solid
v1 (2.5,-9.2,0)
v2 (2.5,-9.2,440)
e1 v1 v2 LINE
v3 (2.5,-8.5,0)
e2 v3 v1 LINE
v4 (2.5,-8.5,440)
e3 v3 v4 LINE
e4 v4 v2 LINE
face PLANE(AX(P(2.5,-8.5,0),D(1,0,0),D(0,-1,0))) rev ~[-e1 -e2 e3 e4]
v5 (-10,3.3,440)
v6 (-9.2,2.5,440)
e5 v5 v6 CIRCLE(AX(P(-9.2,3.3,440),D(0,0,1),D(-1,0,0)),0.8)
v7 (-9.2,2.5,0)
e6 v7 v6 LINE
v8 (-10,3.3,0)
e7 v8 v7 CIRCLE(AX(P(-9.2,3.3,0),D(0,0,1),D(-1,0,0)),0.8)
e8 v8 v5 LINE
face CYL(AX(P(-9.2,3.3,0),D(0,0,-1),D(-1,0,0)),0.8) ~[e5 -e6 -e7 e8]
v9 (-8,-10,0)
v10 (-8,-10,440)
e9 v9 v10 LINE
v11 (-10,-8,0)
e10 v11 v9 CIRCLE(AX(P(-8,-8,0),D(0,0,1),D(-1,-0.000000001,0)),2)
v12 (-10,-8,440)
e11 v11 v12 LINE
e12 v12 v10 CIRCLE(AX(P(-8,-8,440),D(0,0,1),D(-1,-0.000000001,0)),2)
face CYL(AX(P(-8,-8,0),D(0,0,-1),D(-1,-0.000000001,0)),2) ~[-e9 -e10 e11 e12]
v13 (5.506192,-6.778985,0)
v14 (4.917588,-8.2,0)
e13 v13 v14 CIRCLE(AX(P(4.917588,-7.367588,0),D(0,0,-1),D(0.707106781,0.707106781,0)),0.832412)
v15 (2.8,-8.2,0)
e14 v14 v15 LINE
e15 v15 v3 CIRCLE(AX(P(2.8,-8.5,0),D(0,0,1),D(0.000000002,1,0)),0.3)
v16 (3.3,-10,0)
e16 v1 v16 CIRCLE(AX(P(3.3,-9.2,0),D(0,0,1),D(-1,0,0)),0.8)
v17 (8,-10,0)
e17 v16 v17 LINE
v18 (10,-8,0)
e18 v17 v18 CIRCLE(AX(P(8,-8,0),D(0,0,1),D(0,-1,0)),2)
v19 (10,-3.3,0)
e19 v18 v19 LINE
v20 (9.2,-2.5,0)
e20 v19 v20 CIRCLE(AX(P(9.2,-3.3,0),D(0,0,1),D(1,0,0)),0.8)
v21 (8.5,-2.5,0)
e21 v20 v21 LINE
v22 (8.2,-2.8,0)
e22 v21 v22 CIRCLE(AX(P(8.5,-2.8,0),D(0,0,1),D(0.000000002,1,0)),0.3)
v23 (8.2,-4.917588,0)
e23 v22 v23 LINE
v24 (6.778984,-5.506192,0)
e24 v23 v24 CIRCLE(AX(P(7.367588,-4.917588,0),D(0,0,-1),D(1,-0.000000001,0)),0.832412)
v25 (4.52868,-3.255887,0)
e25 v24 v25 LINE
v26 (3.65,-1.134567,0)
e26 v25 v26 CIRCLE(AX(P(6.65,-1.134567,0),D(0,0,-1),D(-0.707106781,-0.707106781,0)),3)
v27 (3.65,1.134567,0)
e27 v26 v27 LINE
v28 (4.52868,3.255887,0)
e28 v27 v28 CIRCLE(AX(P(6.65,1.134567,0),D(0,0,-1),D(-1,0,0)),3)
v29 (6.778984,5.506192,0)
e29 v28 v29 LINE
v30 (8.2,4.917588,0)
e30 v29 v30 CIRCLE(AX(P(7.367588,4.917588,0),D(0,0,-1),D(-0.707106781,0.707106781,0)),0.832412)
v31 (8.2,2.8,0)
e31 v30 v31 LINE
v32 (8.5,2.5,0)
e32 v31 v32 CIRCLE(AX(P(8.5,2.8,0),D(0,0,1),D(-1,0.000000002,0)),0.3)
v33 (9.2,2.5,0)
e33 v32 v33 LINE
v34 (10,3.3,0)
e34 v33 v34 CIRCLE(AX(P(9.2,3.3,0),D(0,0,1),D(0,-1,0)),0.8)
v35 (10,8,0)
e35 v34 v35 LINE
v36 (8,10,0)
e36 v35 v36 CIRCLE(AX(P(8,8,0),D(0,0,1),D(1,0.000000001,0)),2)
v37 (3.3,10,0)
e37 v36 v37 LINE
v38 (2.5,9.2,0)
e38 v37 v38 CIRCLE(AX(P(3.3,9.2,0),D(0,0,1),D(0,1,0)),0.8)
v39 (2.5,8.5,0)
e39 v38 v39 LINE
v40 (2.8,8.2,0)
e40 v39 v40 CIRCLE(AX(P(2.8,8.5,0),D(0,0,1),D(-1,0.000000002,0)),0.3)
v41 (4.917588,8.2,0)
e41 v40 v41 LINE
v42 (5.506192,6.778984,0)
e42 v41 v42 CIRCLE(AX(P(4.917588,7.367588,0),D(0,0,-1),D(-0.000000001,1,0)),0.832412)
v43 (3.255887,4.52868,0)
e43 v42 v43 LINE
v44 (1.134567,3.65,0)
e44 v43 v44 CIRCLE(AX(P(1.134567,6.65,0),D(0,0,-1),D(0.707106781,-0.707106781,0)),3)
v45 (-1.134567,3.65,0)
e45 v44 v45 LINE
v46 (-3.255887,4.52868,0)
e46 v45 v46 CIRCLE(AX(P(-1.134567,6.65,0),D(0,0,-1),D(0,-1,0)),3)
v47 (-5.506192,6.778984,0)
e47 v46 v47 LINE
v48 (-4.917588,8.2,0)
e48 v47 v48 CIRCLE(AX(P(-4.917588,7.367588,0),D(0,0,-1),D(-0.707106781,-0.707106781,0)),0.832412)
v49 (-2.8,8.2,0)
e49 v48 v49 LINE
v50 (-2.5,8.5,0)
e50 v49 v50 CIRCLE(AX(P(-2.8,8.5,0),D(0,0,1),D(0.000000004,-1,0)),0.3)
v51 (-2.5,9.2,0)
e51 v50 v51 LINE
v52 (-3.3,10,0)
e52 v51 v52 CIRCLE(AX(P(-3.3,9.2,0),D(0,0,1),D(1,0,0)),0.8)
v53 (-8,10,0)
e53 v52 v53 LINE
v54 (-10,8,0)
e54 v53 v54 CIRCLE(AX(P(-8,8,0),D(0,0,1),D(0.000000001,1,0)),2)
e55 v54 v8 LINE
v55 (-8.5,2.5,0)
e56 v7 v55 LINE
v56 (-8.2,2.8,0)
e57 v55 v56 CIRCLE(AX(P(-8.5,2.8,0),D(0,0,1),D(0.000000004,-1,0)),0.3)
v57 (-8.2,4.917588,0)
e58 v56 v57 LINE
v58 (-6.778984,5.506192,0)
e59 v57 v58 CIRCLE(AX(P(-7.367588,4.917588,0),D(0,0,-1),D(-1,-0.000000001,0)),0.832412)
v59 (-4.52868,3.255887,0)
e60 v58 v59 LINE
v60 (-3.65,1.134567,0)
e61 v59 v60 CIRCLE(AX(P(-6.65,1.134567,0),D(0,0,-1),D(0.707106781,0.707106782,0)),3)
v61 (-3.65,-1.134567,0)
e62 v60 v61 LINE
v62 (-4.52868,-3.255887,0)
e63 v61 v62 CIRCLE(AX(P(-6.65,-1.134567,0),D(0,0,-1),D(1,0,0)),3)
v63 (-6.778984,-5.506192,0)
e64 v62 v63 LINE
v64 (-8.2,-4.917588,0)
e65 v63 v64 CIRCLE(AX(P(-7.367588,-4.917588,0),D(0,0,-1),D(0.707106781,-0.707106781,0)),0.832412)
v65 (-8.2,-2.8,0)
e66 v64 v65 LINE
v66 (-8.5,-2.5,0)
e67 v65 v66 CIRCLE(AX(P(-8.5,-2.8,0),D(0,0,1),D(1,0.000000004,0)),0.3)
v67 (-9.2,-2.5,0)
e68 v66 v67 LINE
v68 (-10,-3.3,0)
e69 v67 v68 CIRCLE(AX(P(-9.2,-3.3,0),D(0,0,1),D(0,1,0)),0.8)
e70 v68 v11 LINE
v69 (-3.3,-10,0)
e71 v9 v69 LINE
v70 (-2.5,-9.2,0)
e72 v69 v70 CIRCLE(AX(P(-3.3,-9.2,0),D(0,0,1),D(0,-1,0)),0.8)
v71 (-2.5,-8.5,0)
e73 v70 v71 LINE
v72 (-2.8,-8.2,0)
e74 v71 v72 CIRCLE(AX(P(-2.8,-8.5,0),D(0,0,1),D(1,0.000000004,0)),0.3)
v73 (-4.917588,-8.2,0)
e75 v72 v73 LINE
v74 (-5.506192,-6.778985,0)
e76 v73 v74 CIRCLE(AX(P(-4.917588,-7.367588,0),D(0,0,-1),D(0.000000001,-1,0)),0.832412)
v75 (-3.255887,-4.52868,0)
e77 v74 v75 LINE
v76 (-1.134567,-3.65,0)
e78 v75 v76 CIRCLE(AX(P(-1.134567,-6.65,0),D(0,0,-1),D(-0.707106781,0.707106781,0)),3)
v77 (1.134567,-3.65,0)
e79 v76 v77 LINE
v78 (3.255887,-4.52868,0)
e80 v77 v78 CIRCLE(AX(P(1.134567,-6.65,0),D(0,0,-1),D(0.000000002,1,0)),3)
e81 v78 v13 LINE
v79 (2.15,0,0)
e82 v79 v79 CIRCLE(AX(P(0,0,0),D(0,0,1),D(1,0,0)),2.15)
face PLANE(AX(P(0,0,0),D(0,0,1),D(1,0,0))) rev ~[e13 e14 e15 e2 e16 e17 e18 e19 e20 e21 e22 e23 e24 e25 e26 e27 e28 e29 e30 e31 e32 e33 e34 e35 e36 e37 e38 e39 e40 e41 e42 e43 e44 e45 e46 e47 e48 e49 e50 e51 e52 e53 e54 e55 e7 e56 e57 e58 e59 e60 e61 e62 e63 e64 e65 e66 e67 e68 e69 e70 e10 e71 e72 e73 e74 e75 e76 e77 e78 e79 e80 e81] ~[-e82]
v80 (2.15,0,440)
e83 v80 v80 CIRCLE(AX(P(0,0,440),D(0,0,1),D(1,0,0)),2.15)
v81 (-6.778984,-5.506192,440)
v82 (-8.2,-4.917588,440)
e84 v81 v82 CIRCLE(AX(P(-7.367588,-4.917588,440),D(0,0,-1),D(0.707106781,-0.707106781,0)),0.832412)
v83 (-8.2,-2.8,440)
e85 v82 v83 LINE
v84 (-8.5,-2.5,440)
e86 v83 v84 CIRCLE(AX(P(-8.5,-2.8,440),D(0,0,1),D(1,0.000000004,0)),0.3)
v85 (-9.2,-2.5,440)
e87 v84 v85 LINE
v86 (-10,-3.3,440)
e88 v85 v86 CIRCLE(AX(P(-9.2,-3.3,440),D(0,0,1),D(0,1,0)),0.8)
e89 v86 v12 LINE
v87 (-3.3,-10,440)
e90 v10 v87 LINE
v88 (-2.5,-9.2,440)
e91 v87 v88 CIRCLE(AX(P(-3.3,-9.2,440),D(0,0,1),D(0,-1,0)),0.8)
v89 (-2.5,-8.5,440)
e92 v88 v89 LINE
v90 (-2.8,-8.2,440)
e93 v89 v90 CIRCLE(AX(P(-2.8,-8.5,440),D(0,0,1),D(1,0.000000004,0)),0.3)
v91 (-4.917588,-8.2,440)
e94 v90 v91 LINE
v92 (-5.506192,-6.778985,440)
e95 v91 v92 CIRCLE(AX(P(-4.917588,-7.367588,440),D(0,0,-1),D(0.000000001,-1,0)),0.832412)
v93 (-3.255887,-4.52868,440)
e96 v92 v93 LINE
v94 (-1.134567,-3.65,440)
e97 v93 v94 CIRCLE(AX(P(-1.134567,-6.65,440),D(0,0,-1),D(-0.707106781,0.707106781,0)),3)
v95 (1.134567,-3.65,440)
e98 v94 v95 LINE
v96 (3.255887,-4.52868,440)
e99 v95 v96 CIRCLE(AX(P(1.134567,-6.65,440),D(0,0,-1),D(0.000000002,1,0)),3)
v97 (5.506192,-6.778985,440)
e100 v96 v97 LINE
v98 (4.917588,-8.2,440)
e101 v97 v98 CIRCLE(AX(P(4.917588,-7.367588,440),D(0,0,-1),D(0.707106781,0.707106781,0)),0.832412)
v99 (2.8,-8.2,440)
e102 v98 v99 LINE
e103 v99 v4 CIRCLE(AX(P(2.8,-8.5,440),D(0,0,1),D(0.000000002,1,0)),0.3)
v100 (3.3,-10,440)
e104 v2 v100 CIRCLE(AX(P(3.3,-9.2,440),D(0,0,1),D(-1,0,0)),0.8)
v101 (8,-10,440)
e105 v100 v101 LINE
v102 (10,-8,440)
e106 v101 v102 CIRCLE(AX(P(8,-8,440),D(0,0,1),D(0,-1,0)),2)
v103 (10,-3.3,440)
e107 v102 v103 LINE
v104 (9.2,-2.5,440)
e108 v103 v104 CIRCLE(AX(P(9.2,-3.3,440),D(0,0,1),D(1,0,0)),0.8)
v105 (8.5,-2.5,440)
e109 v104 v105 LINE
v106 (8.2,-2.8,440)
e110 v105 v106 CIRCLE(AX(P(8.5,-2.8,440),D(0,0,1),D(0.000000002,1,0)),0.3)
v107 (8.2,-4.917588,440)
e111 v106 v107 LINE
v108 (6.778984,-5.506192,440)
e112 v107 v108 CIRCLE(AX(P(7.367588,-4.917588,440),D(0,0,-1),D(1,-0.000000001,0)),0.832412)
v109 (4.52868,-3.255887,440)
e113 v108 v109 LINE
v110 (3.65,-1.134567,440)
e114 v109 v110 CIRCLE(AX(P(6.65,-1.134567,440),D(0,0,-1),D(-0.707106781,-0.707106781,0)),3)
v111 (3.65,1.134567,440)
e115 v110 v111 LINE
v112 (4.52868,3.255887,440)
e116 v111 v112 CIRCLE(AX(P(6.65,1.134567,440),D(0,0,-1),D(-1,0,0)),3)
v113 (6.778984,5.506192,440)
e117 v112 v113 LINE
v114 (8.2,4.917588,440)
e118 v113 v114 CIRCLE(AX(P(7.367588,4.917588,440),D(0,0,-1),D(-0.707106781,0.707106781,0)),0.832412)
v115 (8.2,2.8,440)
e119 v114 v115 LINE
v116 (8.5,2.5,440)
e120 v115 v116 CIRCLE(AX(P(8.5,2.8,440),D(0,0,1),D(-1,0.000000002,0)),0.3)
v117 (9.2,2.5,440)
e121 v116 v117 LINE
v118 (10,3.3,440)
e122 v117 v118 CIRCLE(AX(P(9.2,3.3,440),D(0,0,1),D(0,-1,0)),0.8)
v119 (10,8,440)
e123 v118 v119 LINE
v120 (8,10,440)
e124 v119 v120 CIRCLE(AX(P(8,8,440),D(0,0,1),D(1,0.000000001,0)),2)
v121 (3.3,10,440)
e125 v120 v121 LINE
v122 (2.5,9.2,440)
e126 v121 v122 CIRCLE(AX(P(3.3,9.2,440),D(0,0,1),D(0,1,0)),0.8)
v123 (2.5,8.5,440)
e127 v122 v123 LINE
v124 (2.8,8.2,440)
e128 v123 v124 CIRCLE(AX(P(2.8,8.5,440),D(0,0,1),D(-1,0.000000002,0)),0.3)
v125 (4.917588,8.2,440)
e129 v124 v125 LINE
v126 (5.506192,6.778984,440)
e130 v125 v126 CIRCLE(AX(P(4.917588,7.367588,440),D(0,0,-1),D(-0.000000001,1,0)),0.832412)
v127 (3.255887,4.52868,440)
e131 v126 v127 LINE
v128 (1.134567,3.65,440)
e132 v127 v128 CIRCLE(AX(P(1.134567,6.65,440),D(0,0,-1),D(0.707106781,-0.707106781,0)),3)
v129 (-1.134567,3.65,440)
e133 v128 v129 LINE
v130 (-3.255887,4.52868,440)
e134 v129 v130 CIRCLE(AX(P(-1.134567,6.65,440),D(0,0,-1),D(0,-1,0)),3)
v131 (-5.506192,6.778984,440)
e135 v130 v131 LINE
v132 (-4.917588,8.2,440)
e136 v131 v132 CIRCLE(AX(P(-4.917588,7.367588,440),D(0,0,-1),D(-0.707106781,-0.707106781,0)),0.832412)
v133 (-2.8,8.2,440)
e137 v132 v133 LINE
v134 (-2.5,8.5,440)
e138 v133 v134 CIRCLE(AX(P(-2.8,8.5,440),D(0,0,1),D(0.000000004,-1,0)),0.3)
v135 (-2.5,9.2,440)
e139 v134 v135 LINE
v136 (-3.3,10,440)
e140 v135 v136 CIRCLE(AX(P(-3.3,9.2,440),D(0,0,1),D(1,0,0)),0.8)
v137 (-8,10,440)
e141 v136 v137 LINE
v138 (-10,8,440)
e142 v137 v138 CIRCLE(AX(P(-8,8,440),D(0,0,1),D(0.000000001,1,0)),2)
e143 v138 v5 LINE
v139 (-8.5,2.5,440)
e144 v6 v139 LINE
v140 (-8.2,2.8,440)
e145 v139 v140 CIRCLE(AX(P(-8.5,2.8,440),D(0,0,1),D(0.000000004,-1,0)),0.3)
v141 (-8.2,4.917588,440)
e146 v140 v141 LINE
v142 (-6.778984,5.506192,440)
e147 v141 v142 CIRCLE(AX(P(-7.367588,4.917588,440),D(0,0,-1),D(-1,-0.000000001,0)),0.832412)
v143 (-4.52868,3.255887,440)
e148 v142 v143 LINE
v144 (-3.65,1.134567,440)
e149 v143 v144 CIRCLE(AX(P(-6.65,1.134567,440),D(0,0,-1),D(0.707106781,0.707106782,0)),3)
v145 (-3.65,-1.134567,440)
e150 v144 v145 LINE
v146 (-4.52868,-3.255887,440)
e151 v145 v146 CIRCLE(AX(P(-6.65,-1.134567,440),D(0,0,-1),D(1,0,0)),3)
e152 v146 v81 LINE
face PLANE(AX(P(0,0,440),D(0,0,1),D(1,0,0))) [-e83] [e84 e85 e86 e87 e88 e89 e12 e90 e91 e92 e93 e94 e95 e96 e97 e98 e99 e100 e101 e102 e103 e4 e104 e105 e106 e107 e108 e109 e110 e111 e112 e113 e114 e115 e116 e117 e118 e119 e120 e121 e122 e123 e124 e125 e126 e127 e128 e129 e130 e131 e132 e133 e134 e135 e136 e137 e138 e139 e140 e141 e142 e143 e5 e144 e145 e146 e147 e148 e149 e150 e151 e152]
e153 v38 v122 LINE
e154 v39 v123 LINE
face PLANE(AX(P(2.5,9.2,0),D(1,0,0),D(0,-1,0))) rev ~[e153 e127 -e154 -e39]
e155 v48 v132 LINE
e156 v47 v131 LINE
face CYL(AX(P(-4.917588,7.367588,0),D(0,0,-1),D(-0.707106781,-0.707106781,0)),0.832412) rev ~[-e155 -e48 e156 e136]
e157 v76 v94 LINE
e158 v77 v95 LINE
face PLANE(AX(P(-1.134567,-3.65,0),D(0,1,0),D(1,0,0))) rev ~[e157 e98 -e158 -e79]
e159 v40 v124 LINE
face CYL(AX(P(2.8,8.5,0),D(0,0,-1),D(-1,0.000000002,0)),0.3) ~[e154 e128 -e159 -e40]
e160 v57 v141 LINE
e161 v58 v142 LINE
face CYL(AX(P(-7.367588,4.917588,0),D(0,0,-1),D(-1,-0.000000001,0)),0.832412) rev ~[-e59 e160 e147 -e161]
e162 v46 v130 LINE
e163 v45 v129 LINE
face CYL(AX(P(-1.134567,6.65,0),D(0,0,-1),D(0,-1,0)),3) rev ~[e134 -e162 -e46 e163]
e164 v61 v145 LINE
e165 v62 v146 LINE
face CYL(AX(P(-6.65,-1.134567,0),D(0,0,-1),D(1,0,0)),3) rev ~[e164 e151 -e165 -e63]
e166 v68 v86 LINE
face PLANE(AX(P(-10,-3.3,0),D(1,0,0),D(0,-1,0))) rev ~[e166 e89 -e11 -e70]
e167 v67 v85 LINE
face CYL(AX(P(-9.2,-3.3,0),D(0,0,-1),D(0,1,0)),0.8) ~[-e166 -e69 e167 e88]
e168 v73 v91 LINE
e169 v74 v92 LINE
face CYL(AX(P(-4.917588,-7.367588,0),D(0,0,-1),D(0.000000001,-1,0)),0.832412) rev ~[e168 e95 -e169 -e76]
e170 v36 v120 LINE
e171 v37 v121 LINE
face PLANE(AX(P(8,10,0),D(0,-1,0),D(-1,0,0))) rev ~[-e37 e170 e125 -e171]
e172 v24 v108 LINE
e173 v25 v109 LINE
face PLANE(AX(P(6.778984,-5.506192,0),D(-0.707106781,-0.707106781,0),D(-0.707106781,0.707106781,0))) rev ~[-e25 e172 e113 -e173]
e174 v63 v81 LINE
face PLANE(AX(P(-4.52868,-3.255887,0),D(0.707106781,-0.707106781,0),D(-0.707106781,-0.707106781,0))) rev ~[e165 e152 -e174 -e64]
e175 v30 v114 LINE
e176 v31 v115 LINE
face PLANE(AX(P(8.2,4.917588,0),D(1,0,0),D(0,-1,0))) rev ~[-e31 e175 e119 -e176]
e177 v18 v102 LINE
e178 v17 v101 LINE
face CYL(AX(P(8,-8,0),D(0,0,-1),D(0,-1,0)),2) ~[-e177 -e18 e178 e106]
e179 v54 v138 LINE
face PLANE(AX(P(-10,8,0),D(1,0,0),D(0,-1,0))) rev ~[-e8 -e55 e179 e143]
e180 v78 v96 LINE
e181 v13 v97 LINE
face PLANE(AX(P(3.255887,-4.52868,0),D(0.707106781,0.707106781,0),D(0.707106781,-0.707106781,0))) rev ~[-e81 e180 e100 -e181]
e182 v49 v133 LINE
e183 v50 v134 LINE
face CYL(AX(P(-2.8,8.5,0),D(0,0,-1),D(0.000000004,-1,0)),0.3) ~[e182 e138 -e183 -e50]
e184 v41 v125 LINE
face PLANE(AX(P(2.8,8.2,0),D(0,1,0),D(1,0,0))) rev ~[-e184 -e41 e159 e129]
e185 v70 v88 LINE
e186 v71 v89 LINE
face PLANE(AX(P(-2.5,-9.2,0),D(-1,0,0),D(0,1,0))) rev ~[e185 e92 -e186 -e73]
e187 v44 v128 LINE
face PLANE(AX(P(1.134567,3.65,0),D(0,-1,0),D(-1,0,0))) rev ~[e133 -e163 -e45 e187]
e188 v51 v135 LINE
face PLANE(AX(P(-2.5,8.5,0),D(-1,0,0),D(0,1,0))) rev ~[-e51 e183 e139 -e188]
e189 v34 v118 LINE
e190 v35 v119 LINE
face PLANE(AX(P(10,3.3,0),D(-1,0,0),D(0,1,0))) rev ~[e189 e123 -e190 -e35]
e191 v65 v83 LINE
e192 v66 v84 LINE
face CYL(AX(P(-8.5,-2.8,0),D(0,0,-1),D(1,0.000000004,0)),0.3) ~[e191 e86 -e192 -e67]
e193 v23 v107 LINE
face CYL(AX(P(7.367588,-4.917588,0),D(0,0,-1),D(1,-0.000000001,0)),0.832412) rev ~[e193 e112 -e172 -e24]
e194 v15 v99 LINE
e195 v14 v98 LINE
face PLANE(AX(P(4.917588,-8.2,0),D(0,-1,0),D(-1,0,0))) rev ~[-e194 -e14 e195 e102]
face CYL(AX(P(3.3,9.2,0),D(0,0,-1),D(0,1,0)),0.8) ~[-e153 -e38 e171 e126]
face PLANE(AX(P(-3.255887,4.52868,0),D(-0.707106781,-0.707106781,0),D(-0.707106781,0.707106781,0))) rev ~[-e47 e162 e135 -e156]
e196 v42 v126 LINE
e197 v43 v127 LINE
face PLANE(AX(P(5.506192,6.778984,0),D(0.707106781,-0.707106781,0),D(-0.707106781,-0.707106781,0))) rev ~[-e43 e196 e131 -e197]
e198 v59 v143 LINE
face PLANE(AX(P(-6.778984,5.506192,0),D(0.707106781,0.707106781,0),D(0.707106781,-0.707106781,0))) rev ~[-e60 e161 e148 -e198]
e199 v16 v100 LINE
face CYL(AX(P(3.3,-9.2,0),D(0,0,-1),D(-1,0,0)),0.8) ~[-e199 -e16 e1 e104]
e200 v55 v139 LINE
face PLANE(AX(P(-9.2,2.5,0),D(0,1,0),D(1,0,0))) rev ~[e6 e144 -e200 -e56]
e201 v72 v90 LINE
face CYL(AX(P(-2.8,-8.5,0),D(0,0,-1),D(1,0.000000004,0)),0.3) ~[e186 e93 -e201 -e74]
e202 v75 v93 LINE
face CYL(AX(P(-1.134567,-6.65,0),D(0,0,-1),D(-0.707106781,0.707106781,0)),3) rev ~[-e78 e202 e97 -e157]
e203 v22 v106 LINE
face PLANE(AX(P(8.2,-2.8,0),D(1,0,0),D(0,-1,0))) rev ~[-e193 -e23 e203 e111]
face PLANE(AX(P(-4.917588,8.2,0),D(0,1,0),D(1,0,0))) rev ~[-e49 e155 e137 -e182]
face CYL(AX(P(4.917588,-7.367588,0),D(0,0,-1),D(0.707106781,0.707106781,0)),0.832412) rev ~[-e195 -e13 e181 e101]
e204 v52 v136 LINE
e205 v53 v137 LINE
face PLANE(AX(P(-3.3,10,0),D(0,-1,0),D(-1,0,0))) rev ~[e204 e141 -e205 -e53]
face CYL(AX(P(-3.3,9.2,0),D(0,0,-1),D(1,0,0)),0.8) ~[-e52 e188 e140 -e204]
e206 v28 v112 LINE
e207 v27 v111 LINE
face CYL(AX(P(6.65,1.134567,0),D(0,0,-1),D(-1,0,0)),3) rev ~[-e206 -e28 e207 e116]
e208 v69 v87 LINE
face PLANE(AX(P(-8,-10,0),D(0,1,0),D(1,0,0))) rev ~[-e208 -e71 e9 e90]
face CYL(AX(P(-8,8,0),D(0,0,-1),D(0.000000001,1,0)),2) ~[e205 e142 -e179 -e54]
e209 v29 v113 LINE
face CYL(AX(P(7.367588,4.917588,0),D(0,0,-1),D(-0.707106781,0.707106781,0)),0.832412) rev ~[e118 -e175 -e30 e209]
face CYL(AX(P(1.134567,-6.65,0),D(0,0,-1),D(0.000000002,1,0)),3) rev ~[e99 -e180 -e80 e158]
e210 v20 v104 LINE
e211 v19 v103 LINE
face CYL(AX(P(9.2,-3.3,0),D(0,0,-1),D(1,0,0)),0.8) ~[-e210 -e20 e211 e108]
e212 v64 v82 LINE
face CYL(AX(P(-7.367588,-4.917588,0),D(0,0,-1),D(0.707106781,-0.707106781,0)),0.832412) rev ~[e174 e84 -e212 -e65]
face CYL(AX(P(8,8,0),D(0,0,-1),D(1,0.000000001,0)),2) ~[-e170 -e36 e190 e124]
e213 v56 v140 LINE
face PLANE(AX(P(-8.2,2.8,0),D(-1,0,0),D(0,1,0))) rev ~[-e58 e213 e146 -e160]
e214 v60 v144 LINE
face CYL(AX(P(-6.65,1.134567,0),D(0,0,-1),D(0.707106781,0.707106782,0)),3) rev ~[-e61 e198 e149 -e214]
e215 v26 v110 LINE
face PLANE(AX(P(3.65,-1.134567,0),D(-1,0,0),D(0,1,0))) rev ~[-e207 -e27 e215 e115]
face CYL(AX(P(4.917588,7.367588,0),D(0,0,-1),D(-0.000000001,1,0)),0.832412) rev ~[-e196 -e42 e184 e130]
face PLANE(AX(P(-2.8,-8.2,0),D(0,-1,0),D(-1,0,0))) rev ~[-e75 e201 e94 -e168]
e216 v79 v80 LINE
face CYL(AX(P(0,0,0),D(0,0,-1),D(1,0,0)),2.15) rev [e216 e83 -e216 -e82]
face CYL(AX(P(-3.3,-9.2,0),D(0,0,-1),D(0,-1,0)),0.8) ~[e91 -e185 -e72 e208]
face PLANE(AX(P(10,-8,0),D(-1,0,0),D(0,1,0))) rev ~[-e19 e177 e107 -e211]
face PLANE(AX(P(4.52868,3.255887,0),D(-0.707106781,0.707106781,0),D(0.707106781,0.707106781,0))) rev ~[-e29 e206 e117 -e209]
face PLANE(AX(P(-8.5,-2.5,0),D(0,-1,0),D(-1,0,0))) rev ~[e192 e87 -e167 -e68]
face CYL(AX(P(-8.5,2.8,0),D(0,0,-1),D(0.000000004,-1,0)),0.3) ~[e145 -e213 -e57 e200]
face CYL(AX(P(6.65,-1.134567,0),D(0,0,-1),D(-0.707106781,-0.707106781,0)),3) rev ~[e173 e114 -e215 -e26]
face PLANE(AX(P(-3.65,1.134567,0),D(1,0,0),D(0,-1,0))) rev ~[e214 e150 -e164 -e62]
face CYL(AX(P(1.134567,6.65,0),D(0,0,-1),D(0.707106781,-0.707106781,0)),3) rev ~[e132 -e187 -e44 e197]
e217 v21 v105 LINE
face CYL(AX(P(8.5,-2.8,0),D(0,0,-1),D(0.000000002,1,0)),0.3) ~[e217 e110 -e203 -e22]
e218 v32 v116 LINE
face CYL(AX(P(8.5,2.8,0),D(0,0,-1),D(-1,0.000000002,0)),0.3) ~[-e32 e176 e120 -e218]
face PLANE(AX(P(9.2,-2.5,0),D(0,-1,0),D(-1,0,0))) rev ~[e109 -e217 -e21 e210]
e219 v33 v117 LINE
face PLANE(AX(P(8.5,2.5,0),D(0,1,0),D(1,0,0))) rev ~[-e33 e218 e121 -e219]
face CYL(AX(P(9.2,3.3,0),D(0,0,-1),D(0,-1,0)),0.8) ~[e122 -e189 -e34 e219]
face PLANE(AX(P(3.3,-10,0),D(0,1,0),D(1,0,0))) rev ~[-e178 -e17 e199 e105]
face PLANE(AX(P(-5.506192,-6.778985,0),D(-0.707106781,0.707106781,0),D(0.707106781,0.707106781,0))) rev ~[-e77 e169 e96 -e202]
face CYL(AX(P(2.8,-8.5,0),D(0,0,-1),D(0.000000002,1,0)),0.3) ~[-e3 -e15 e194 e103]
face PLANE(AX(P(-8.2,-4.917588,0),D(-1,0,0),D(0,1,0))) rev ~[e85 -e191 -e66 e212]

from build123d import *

# Parameters (mm, degrees)
BOSS_EXTRU_1_DEPTH = 440


with BuildPart() as part:
    # Esquisse1 → Boss.-Extru.1 (new body)
    with BuildSketch(Plane.XY):
        with BuildLine():
            Line((-3.255887446, 4.528679645), (-5.506192286, 6.778984485))
            ThreePointArc((-5.506192286, 6.778984485), (-5.686636441, 7.686138511), (-4.917588391, 8.199999989))
            Line((-4.917588391, 8.199999989), (-2.799999991, 8.199999989))
            ThreePointArc((-2.799999991, 8.199999989), (-2.587867957, 8.287867955), (-2.499999991, 8.499999989))
            Line((-2.499999991, 8.499999989), (-2.499999991, 9.199999989))
            ThreePointArc((-2.499999991, 9.199999989), (-2.734314566, 9.765685414), (-3.299999991, 9.999999989))
            Line((-3.299999991, 9.999999989), (-7.999999991, 9.999999989))
            ThreePointArc((-7.999999991, 9.999999989), (-9.414213554, 9.414213552), (-9.999999991, 7.999999989))
            Line((-9.999999991, 7.999999989), (-9.999999991, 3.299999989))
            ThreePointArc((-9.999999991, 3.299999989), (-9.765685416, 2.734314564), (-9.199999991, 2.499999989))
            Line((-9.199999991, 2.499999989), (-8.499999991, 2.499999989))
            ThreePointArc((-8.499999991, 2.499999989), (-8.287867957, 2.587867955), (-8.199999991, 2.799999989))
            Line((-8.199999991, 2.799999989), (-8.199999991, 4.917588389))
            ThreePointArc((-8.199999991, 4.917588389), (-7.686138517, 5.686636433), (-6.778984497, 5.506192279))
            Line((-6.778984497, 5.506192279), (-4.528679657, 3.255887439))
            ThreePointArc((-4.528679657, 3.255887439), (-3.878361403, 2.282617393), (-3.650000001, 1.134567096))
            Line((-3.650000001, 1.134567096), (-3.650000001, -1.134567114))
            ThreePointArc((-3.650000001, -1.134567114), (-3.878361403, -2.282617409), (-4.528679656, -3.255887454))
            Line((-4.528679656, -3.255887454), (-6.778984496, -5.506192294))
            ThreePointArc((-6.778984496, -5.506192294), (-7.686138522, -5.686636449), (-8.2, -4.9175884))
            Line((-8.2, -4.9175884), (-8.2, -2.8))
            ThreePointArc((-8.2, -2.8), (-8.287867966, -2.587867966), (-8.5, -2.5))
            Line((-8.5, -2.5), (-9.2, -2.5))
            ThreePointArc((-9.2, -2.5), (-9.765685425, -2.734314575), (-10, -3.3))
            Line((-10, -3.3), (-10, -8))
            ThreePointArc((-10, -8), (-9.414213562, -9.414213562), (-8, -10))
            Line((-8, -10), (-3.3, -10))
            ThreePointArc((-3.3, -10), (-2.734314575, -9.765685425), (-2.5, -9.2))
            Line((-2.5, -9.2), (-2.5, -8.5))
            ThreePointArc((-2.5, -8.5), (-2.587867966, -8.287867966), (-2.8, -8.2))
            Line((-2.8, -8.2), (-4.9175884, -8.2))
            ThreePointArc((-4.9175884, -8.2), (-5.686636444, -7.686138526), (-5.50619229, -6.778984506))
            Line((-5.50619229, -6.778984506), (-3.25588745, -4.528679666))
            ThreePointArc((-3.25588745, -4.528679666), (-2.282617404, -3.878361412), (-1.134567106, -3.650000009))
            Line((-1.134567106, -3.650000009), (1.134567104, -3.650000009))
            ThreePointArc((1.134567104, -3.650000009), (2.282617399, -3.878361412), (3.255887444, -4.528679664))
            Line((3.255887444, -4.528679664), (5.506192284, -6.778984504))
            ThreePointArc((5.506192284, -6.778984504), (5.686636439, -7.686138531), (4.917588389, -8.200000009))
            Line((4.917588389, -8.200000009), (2.799999989, -8.200000009))
            ThreePointArc((2.799999989, -8.200000009), (2.587867955, -8.287867974), (2.499999989, -8.500000009))
            Line((2.499999989, -8.500000009), (2.499999989, -9.200000009))
            ThreePointArc((2.499999989, -9.200000009), (2.734314564, -9.765685434), (3.299999989, -10.000000009))
            Line((3.299999989, -10.000000009), (7.999999989, -10.000000009))
            ThreePointArc((7.999999989, -10.000000009), (9.414213552, -9.414213571), (9.999999989, -8.000000009))
            Line((9.999999989, -8.000000009), (9.999999989, -3.300000009))
            ThreePointArc((9.999999989, -3.300000009), (9.765685414, -2.734314584), (9.199999989, -2.500000009))
            Line((9.199999989, -2.500000009), (8.499999989, -2.500000009))
            ThreePointArc((8.499999989, -2.500000009), (8.287867955, -2.587867974), (8.199999989, -2.800000009))
            Line((8.199999989, -2.800000009), (8.199999989, -4.917588409))
            ThreePointArc((8.199999989, -4.917588409), (7.686138515, -5.686636452), (6.778984495, -5.506192299))
            Line((6.778984495, -5.506192299), (4.528679655, -3.255887459))
            ThreePointArc((4.528679655, -3.255887459), (3.878361401, -2.282617412), (3.649999999, -1.134567115))
            Line((3.649999999, -1.134567115), (3.649999999, 1.134567095))
            ThreePointArc((3.649999999, 1.134567095), (3.878361401, 2.28261739), (4.528679654, 3.255887435))
            Line((4.528679654, 3.255887435), (6.778984494, 5.506192275))
            ThreePointArc((6.778984494, 5.506192275), (7.68613852, 5.68663643), (8.199999998, 4.917588381))
            Line((8.199999998, 4.917588381), (8.199999998, 2.799999981))
            ThreePointArc((8.199999998, 2.799999981), (8.287867964, 2.587867946), (8.499999998, 2.499999981))
            Line((8.499999998, 2.499999981), (9.199999998, 2.499999981))
            ThreePointArc((9.199999998, 2.499999981), (9.765685423, 2.734314556), (9.999999998, 3.299999981))
            Line((9.999999998, 3.299999981), (9.999999998, 7.999999981))
            ThreePointArc((9.999999998, 7.999999981), (9.41421356, 9.414213543), (7.999999998, 9.999999981))
            Line((7.999999998, 9.999999981), (3.299999998, 9.999999981))
            ThreePointArc((3.299999998, 9.999999981), (2.734314573, 9.765685406), (2.499999998, 9.199999981))
            Line((2.499999998, 9.199999981), (2.499999998, 8.499999981))
            ThreePointArc((2.499999998, 8.499999981), (2.587867964, 8.287867946), (2.799999998, 8.199999981))
            Line((2.799999998, 8.199999981), (4.917588398, 8.199999981))
            ThreePointArc((4.917588398, 8.199999981), (5.686636442, 7.686138507), (5.506192288, 6.778984487))
            Line((5.506192288, 6.778984487), (3.255887448, 4.528679647))
            ThreePointArc((3.255887448, 4.528679647), (2.282617402, 3.878361393), (1.134567104, 3.64999999))
            Line((1.134567104, 3.64999999), (-1.134567106, 3.64999999))
            ThreePointArc((-1.134567106, 3.64999999), (-2.282617401, 3.878361392), (-3.255887446, 4.528679645))
        make_face()
        with BuildLine():
            ThreePointArc((-2.15, 0), (0, -2.15), (2.15, 0))
            ThreePointArc((2.15, 0), (0, 2.15), (-2.15, 0))
        make_face(mode=Mode.SUBTRACT)
    extrude(amount=BOSS_EXTRU_1_DEPTH)


solid = part.part
